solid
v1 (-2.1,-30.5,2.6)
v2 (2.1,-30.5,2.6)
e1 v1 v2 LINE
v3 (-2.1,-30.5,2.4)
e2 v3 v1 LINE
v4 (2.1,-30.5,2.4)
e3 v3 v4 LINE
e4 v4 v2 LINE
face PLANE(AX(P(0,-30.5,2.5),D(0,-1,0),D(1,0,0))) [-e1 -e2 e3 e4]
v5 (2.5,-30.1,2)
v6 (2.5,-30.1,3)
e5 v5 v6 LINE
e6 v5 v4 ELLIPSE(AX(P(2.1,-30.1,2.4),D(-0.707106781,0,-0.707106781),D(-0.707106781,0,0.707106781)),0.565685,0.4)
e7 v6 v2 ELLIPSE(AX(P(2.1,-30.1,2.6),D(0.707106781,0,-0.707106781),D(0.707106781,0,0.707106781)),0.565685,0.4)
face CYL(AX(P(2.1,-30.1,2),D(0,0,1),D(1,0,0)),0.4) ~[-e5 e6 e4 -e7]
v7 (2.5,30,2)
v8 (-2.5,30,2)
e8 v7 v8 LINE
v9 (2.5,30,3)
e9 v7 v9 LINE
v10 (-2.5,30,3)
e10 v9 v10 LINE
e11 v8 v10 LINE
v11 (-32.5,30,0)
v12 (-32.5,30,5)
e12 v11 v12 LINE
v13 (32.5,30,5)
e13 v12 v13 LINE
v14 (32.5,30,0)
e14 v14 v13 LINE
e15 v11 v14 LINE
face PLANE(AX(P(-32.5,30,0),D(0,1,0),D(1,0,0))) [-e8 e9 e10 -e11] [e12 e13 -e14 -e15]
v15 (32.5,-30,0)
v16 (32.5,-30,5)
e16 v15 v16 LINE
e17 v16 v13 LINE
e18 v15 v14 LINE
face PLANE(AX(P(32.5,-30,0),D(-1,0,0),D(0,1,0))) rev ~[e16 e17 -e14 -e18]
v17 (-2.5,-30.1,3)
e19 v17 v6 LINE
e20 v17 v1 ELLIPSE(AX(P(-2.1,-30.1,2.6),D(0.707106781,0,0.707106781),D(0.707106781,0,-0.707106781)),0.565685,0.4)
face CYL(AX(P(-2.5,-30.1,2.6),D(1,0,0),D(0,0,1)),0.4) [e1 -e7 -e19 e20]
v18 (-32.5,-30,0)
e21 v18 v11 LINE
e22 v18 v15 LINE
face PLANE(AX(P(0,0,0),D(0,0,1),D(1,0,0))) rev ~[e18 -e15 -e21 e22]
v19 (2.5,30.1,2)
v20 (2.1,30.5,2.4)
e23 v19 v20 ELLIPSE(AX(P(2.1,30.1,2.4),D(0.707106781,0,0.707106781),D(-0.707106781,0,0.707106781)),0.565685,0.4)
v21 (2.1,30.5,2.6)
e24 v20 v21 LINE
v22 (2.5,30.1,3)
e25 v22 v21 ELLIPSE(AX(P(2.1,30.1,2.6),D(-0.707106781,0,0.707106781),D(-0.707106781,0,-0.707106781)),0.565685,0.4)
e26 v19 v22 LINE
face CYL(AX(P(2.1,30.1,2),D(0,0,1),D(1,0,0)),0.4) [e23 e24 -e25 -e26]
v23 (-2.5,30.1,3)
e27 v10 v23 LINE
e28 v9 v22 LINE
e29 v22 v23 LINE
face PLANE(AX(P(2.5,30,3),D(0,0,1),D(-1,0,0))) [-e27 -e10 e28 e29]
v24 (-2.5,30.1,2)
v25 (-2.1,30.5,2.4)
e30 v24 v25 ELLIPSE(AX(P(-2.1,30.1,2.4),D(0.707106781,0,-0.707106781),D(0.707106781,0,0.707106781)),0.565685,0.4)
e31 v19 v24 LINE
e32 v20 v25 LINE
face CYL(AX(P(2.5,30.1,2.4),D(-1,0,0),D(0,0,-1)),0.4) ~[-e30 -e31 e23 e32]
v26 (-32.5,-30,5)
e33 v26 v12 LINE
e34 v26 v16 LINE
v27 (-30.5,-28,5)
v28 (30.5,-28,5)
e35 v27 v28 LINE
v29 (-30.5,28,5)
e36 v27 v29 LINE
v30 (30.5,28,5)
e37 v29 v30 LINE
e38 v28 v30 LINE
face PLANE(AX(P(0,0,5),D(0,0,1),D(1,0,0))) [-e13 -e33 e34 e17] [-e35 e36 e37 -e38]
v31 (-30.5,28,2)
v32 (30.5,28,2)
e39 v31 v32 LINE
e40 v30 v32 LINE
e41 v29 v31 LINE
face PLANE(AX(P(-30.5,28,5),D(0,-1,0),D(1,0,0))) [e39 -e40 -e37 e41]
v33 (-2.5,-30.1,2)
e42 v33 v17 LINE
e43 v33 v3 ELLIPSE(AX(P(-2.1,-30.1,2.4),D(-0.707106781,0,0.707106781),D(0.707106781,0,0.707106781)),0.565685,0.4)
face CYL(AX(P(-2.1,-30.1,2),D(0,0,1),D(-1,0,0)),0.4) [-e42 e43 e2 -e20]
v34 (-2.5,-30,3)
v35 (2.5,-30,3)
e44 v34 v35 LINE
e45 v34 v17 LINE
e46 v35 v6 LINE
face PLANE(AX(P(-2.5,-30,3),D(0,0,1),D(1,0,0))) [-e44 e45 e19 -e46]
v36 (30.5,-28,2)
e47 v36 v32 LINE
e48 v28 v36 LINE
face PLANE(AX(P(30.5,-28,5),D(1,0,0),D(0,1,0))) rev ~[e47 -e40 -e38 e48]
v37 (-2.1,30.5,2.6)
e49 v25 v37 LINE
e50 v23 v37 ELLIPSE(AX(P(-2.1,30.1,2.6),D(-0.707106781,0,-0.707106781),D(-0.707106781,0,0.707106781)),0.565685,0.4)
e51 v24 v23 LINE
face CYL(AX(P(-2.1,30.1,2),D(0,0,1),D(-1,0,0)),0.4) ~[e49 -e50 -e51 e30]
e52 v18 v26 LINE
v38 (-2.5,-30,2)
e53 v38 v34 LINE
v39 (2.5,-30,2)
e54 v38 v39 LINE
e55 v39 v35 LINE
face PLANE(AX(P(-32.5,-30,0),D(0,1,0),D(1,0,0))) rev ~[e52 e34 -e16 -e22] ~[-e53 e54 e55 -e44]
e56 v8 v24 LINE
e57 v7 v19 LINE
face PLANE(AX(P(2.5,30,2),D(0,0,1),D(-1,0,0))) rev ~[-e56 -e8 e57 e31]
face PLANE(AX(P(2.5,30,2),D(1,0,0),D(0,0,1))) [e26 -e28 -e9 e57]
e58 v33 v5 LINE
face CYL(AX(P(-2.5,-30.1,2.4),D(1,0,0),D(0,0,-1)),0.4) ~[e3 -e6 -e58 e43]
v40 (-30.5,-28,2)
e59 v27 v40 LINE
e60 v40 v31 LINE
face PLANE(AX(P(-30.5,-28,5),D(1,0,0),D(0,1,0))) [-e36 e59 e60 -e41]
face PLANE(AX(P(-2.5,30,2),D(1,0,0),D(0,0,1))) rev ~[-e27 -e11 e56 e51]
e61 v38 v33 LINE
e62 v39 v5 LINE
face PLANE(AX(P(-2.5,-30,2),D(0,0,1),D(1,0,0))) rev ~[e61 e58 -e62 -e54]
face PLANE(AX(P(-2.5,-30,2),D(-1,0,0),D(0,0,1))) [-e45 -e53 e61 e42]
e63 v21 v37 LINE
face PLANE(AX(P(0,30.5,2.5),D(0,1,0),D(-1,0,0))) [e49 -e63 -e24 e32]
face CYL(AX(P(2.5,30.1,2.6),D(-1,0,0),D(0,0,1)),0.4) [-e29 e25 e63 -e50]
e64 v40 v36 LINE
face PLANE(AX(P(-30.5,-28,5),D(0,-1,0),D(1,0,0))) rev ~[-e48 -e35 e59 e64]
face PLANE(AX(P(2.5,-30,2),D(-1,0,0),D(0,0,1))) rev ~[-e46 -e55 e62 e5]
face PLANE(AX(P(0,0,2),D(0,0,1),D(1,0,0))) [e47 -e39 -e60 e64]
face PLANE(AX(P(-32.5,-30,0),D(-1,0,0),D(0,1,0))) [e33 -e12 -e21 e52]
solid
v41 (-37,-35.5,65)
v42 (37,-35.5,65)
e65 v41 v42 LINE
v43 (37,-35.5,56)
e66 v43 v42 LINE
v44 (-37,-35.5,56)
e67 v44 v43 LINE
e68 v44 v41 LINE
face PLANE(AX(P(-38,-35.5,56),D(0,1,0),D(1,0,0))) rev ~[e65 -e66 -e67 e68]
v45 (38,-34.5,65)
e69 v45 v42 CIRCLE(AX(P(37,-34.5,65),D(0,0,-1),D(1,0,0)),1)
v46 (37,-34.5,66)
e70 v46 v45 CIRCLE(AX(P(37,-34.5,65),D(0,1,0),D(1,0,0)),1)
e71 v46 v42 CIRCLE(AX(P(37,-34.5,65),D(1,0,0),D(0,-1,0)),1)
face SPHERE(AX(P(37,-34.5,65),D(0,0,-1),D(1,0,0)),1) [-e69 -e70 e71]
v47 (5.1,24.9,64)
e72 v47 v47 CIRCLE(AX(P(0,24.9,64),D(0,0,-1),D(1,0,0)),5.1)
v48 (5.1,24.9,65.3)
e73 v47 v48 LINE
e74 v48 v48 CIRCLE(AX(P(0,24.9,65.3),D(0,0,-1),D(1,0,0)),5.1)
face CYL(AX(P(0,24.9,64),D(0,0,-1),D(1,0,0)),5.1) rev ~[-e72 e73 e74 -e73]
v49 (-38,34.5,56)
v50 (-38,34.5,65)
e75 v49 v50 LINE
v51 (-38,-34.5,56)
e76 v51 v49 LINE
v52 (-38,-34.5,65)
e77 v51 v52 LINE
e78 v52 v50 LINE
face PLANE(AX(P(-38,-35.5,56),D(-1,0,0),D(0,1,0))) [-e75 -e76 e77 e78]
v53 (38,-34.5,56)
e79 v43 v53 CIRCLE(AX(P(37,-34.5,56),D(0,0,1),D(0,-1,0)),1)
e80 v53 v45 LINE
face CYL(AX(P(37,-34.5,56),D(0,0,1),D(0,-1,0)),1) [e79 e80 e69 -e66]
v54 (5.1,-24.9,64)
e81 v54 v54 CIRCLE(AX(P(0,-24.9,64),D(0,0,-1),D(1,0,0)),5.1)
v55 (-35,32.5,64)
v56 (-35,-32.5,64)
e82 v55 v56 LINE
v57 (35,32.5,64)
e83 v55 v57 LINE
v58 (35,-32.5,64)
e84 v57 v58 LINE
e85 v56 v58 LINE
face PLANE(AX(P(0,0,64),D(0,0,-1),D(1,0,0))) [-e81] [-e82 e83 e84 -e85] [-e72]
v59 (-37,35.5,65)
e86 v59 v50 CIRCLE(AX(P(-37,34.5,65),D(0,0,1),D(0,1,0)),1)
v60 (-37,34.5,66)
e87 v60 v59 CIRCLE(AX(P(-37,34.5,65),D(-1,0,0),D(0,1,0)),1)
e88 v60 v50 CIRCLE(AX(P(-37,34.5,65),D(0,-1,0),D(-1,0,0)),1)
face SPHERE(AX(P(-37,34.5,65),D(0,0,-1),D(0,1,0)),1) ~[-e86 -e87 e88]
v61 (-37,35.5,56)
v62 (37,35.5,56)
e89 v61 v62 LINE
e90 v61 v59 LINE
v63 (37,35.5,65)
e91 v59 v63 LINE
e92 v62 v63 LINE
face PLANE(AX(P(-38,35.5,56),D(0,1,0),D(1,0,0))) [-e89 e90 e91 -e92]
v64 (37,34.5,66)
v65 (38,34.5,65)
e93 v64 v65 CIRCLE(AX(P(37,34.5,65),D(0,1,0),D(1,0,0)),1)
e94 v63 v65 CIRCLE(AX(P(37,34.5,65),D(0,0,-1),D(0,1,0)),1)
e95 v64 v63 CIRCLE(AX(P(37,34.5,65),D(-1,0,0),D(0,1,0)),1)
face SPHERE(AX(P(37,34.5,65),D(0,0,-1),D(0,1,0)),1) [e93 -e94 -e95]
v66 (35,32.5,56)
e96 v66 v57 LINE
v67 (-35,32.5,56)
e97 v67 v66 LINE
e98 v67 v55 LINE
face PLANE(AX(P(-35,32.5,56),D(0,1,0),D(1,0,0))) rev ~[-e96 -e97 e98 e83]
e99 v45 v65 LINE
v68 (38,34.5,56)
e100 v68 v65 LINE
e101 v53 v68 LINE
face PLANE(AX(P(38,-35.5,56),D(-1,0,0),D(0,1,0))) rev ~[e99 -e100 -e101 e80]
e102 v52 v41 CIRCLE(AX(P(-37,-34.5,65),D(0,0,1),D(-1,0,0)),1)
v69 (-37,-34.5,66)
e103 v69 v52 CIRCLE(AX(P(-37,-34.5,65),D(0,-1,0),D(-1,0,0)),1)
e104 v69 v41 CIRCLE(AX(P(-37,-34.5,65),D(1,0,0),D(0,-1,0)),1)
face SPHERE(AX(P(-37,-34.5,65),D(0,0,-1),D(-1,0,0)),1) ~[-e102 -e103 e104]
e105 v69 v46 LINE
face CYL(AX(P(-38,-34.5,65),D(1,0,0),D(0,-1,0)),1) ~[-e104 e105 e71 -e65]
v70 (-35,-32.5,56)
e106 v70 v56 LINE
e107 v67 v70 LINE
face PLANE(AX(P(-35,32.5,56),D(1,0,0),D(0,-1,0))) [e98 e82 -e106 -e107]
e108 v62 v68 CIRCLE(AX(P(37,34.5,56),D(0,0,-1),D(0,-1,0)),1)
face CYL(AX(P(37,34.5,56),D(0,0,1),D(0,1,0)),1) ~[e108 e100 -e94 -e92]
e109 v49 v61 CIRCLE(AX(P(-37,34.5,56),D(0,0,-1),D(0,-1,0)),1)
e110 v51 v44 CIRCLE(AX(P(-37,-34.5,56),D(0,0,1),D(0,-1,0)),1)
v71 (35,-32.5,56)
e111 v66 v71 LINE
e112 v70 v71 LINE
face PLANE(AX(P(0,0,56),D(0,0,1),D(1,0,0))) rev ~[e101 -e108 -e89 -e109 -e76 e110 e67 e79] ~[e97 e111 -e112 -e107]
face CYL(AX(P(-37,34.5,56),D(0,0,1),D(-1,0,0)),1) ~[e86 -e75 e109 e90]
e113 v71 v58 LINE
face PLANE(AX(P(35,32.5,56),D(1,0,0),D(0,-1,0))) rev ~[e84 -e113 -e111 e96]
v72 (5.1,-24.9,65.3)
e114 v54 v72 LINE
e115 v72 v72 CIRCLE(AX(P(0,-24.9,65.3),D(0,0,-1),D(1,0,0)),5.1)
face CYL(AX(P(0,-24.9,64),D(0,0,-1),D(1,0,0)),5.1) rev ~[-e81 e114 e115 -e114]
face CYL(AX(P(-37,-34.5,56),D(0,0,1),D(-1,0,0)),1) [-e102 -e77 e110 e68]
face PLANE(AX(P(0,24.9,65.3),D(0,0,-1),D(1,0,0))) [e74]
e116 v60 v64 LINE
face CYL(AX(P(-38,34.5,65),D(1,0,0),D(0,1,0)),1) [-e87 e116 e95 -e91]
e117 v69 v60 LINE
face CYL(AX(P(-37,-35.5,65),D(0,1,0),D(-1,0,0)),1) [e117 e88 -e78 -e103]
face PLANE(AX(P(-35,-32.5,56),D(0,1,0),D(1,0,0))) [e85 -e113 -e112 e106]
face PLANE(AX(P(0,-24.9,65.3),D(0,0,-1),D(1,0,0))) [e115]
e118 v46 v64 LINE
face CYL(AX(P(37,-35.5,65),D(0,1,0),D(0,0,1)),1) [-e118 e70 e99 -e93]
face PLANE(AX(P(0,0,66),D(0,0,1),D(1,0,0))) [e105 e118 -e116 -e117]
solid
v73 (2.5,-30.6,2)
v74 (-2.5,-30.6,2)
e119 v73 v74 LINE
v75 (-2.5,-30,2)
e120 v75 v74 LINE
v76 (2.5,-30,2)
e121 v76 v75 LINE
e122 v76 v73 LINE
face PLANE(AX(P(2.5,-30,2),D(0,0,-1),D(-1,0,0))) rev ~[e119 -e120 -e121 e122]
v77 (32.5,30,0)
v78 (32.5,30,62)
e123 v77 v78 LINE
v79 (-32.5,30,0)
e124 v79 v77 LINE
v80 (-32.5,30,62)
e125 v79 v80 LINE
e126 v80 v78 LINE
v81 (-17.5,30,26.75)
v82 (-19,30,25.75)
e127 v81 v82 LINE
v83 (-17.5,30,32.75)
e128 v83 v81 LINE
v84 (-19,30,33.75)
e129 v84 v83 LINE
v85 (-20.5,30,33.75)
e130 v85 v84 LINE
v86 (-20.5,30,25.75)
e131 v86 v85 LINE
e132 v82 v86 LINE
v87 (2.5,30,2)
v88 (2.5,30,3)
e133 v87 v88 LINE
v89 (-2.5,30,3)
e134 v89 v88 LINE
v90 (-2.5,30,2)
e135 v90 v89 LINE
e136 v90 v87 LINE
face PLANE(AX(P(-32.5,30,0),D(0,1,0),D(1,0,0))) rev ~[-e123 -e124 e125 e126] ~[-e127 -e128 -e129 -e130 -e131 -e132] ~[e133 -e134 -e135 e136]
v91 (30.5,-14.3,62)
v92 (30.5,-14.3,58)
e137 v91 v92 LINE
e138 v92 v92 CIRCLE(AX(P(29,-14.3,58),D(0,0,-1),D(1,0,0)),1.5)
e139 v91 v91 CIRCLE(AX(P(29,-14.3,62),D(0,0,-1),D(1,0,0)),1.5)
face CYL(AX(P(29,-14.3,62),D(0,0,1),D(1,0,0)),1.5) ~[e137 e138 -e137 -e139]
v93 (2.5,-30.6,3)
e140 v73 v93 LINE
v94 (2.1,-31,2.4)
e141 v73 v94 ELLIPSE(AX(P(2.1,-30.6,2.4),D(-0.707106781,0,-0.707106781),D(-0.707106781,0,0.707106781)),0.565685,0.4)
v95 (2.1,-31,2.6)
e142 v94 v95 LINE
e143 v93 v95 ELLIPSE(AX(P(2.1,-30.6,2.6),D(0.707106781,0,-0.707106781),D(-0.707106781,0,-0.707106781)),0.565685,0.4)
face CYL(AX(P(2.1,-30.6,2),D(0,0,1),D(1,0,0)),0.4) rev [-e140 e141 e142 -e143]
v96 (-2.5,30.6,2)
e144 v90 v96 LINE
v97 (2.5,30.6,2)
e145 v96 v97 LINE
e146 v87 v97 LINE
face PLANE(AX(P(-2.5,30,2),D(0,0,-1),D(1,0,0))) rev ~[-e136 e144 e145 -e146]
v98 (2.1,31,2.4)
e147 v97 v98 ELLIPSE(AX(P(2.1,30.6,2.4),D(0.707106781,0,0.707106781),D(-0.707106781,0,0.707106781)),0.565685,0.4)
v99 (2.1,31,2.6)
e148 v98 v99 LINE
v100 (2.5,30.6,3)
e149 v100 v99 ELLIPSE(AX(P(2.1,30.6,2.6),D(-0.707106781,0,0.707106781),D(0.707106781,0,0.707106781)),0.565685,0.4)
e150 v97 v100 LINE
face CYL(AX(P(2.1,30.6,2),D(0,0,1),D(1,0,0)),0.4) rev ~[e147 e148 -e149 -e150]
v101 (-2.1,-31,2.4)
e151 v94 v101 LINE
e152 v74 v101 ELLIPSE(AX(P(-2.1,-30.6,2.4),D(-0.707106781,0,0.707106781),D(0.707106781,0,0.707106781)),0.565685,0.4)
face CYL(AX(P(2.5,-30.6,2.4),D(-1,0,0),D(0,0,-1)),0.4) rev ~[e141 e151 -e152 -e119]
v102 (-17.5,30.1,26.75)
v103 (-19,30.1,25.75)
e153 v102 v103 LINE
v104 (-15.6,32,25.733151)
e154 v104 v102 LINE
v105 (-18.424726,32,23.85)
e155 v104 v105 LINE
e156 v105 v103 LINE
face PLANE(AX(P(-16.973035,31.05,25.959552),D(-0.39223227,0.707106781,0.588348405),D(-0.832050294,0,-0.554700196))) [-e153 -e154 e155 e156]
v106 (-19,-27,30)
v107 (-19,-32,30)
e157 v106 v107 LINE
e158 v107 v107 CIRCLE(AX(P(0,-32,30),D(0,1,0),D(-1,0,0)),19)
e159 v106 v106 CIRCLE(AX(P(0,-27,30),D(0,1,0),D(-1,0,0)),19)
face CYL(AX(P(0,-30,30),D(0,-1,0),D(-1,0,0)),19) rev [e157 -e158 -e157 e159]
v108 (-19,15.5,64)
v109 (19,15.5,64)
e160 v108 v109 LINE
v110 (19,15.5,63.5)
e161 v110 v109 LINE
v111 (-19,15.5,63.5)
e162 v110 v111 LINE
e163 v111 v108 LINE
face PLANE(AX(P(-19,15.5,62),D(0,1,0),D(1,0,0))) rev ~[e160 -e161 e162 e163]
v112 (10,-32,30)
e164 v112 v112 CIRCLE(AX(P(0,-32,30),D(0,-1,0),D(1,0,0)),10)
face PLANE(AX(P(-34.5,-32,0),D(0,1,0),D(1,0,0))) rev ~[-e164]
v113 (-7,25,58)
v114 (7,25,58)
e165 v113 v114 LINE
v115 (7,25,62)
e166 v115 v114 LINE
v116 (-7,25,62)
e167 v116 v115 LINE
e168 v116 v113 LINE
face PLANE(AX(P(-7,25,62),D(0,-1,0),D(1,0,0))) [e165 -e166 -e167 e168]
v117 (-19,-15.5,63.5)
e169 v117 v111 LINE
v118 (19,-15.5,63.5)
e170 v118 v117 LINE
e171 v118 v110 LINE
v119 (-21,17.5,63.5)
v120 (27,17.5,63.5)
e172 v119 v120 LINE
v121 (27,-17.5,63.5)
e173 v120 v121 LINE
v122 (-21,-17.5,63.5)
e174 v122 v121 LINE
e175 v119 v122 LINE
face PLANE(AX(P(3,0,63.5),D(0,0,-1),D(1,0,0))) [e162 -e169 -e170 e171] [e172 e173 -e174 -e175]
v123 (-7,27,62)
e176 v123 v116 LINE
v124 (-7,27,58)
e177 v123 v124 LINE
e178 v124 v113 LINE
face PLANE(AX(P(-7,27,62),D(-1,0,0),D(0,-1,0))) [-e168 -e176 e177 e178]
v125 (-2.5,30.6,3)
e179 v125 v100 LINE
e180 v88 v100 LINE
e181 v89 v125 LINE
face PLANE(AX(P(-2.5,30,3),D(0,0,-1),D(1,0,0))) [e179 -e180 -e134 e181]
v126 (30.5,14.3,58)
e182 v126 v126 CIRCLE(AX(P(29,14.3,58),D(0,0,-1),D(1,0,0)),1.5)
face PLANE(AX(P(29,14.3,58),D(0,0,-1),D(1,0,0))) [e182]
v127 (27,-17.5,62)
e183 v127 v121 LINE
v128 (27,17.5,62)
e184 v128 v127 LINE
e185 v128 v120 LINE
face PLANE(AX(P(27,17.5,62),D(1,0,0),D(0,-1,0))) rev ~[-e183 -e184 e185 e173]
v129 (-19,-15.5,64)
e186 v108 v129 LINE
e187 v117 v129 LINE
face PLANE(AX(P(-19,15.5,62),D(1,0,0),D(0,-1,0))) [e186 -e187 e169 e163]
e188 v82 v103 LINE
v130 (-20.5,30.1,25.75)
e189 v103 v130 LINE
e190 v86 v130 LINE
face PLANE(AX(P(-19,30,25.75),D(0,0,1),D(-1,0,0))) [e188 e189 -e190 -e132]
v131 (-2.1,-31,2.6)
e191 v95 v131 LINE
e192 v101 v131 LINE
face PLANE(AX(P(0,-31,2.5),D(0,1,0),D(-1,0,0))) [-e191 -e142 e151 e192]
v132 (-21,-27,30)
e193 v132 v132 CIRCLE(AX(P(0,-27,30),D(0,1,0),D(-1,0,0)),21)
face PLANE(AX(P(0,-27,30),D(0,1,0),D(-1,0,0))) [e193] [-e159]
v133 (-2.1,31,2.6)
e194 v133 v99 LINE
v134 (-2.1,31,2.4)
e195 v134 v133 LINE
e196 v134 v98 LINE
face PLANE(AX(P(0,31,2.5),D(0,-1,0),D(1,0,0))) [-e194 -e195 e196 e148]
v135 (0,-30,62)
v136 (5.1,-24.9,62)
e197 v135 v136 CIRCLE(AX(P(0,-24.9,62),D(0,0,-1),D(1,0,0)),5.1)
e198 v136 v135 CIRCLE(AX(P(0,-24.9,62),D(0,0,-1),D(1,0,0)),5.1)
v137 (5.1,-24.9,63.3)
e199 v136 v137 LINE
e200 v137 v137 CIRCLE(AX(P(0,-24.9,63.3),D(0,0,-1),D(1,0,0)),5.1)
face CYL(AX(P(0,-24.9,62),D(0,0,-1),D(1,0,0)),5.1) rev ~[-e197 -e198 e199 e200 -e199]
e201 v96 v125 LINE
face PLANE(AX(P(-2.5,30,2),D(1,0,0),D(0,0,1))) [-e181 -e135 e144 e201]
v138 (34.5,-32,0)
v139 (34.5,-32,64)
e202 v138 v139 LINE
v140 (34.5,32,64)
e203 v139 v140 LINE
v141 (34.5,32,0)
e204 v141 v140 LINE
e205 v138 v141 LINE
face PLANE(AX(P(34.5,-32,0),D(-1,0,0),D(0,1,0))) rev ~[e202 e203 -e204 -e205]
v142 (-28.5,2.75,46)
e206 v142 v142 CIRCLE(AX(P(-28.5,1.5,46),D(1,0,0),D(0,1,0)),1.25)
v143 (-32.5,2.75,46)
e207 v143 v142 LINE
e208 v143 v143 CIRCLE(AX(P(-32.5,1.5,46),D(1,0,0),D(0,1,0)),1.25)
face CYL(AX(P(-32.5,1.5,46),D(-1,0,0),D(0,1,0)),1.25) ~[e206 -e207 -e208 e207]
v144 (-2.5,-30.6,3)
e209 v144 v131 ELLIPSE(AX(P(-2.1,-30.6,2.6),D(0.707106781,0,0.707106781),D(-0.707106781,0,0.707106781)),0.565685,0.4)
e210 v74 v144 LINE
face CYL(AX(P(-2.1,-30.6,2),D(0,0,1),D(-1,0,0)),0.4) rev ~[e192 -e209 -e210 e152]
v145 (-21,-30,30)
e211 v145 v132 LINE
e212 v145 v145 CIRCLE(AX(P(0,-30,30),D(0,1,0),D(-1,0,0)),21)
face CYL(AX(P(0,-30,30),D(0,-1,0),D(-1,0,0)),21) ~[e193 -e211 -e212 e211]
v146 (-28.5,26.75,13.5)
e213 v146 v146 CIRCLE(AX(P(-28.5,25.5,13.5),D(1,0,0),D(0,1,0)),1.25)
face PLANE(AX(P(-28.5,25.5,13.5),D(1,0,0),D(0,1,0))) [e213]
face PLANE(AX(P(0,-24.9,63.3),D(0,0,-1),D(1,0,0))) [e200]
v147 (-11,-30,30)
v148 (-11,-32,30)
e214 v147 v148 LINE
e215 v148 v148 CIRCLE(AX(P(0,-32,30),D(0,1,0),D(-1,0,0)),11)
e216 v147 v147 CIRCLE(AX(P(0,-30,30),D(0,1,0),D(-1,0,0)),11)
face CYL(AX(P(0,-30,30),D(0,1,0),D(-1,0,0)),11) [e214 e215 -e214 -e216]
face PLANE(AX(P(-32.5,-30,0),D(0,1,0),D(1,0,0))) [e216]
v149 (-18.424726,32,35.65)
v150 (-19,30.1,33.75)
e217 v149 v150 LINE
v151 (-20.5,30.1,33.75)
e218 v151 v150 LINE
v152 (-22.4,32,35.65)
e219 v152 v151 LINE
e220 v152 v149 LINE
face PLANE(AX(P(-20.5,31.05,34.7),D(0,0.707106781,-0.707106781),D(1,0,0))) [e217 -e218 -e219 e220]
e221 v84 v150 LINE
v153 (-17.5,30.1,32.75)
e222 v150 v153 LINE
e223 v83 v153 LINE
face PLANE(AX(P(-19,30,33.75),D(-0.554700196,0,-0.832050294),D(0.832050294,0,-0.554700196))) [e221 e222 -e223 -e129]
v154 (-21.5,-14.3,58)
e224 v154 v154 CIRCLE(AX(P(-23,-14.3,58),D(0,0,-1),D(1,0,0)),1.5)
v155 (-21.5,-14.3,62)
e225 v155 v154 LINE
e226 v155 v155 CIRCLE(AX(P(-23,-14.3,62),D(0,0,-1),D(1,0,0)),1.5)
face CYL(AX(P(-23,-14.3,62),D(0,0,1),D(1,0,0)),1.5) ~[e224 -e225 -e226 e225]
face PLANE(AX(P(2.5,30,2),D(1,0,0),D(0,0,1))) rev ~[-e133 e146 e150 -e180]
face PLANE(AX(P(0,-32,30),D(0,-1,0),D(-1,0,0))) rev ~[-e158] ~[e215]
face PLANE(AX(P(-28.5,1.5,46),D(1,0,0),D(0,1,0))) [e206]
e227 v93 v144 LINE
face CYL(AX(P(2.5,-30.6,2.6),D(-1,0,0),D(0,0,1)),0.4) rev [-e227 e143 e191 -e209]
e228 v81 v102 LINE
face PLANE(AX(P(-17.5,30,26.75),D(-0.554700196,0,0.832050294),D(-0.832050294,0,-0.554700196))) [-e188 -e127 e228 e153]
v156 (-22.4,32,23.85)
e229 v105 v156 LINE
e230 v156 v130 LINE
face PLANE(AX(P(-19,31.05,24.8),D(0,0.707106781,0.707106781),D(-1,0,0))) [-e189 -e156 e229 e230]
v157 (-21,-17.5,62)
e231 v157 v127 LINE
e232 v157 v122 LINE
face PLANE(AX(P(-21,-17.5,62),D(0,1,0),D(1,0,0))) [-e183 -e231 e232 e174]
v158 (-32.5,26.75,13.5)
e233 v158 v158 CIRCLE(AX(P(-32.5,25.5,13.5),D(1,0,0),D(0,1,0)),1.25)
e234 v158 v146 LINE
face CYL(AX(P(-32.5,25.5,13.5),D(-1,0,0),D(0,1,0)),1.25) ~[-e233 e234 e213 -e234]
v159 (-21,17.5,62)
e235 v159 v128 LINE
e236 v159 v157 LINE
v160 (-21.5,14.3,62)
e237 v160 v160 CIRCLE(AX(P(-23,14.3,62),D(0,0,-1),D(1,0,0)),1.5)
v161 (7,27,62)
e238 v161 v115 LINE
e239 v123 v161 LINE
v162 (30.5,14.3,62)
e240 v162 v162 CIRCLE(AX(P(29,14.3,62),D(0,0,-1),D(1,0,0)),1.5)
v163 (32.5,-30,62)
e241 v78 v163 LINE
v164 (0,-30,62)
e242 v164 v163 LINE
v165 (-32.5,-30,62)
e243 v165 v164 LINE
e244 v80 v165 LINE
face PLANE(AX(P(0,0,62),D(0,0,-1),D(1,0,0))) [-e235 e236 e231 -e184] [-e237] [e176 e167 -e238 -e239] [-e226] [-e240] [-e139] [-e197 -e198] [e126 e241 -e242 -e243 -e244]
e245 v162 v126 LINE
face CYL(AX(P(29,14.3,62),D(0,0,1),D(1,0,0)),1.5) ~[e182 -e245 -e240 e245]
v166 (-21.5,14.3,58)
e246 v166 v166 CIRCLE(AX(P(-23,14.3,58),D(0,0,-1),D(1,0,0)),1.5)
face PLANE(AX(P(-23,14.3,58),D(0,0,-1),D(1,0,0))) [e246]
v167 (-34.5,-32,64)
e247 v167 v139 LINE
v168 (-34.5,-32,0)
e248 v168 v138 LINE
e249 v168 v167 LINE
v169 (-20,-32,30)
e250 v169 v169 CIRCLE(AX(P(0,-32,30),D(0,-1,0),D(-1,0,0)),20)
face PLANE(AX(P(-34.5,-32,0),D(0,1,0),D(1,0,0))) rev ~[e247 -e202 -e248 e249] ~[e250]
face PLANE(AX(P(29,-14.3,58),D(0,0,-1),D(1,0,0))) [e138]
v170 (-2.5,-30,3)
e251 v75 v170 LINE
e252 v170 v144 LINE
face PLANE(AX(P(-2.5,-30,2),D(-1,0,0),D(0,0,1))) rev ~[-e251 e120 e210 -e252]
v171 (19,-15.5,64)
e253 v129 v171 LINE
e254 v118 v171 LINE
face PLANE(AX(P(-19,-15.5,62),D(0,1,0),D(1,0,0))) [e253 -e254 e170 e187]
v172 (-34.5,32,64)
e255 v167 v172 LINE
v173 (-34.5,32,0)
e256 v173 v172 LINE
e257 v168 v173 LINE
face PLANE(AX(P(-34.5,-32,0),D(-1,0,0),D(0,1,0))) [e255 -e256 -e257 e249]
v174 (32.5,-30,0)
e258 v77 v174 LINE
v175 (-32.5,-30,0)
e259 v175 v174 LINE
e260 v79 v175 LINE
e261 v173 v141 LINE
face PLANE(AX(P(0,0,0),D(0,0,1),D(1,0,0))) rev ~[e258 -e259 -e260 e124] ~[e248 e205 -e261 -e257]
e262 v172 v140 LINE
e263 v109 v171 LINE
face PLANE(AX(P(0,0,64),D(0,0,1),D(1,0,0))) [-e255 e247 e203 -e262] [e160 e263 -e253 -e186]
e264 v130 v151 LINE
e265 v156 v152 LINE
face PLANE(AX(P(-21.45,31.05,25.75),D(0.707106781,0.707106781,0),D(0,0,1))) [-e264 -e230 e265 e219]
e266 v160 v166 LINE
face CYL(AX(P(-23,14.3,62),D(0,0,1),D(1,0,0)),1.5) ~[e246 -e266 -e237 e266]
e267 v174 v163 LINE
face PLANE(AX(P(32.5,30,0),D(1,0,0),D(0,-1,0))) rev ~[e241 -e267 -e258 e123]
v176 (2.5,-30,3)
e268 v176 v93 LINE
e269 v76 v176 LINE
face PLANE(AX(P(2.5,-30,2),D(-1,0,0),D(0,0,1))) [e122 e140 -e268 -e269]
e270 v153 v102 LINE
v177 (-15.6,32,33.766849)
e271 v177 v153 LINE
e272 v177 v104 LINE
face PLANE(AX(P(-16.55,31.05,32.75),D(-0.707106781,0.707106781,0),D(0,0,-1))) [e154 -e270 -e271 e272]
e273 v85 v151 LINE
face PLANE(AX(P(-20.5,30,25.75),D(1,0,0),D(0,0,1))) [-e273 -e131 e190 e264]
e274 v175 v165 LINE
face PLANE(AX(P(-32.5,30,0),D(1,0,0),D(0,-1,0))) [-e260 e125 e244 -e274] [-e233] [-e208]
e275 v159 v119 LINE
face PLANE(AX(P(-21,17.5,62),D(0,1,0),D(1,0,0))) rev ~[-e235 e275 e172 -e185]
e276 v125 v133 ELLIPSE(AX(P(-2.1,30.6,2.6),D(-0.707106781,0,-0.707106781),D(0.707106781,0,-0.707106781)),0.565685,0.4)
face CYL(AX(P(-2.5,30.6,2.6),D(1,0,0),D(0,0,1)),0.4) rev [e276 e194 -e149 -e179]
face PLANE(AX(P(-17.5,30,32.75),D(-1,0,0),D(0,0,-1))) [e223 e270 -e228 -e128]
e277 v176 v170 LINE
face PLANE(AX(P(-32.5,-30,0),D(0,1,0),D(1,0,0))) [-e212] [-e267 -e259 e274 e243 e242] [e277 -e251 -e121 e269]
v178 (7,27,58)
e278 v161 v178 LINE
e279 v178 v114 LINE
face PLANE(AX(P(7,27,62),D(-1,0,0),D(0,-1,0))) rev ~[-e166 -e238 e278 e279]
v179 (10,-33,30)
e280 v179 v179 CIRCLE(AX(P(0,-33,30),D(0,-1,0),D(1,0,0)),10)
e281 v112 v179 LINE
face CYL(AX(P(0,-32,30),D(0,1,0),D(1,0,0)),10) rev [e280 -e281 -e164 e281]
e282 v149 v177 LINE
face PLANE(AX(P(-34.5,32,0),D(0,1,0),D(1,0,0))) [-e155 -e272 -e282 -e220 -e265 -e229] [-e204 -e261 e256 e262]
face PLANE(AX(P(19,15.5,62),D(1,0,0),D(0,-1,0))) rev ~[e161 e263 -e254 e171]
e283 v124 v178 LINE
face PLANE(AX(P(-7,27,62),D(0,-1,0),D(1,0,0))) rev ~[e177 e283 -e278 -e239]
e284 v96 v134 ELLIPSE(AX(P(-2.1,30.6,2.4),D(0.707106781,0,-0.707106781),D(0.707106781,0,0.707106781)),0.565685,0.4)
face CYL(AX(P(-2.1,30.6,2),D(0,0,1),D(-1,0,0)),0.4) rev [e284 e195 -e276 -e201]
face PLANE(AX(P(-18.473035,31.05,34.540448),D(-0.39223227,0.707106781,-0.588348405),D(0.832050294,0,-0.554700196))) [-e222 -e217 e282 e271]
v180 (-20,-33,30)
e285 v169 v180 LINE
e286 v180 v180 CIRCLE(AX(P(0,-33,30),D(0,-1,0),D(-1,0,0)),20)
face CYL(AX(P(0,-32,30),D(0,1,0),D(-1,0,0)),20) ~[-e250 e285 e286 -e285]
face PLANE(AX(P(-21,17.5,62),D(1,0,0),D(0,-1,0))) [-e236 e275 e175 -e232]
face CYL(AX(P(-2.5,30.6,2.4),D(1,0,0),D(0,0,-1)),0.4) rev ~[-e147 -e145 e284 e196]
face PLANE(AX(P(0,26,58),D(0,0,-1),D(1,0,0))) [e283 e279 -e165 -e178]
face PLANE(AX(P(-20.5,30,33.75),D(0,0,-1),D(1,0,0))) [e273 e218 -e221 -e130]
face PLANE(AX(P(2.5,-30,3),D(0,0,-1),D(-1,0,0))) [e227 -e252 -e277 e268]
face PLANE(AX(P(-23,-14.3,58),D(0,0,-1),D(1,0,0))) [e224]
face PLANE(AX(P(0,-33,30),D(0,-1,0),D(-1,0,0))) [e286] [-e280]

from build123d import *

# Parameters (mm, degrees)
SKETCH005020_R   = 5.1
EXTRUDE017_DEPTH = 1.3
SKETCH005019_W   = 70
SKETCH005019_H   = 65
EXTRUDE016_DEPTH = 8
SKETCH005018_W   = 76
SKETCH005018_H   = 71
EXTRUDE015_DEPTH = 10
FILLET_R         = 1
SKETCH005022_W   = 61
SKETCH005022_H   = 56
EXTRUDE020_DEPTH = 3
SKETCH005021_W   = 65
SKETCH005021_H   = 60
EXTRUDE019_DEPTH = 5
SKETCH005023_W   = 5
SKETCH005023_H   = 1
EXTRUDE021_DEPTH = 0.5
SKETCH005024_W   = 5
SKETCH005024_H   = 1
EXTRUDE022_DEPTH = 0.5
FILLET002_R      = 0.4
SKETCH005025_W   = 5
SKETCH005025_H   = 1
EXTRUDE023_DEPTH = 1
SKETCH005026_W   = 5
SKETCH005026_H   = 1
EXTRUDE024_DEPTH = 1
FILLET003_R      = 0.4
SKETCH005013_W   = 14
SKETCH005013_H   = 2
EXTRUDE014_DEPTH = 4
SKETCH005017_R   = 5.1
EXTRUDE018_DEPTH = 1.3
SKETCH005027_R   = 10
EXTRUDE025_DEPTH = 1
SKETCH005002_R   = 20
EXTRUDE005_DEPTH = 1
EXTRUDE013_DEPTH = 2
SKETCH005028_R   = 11
EXTRUDE026_DEPTH = 2
SKETCH005004_R   = 19
EXTRUDE006_DEPTH = 2
SKETCH003_W      = 48
SKETCH003_H      = 35
EXTRUDE003_DEPTH = 1.5
SKETCH002_W      = 38
SKETCH002_H      = 31
EXTRUDE002_DEPTH = 2
SKETCH001_W      = 65
SKETCH001_H      = 60
EXTRUDE001_DEPTH = 62
SKETCH_W         = 69
SKETCH_H         = 64
EXTRUDE_DEPTH    = 64
CHAMFER_SIZE     = 1.9
SKETCH005011_R   = 1.25
EXTRUDE012_DEPTH = 4
SKETCH004_R      = 1.5
EXTRUDE004_DEPTH = 4
SKETCH005029_R   = 19
EXTRUDE028_DEPTH = 3
SKETCH005030_R   = 21
EXTRUDE027_DEPTH = 3


with BuildPart() as lid_magnet_slot_extrusion:
    # Sketch005020 (on Face1 of ShapeBinder013) → Extrude017 (new body)
    with BuildSketch(Plane(origin=(0, 0, 64), x_dir=(1, 0, 0), z_dir=(0, 0, -1))):
        with Locations((0, 24.9)):
            Circle(SKETCH005020_R)
        with Locations((0, -24.9)):
            Circle(SKETCH005020_R)
    extrude(amount=-EXTRUDE017_DEPTH)


with BuildPart() as lid_interior_extrude:
    # Sketch005019 (on Face1 of CopyExtrude015) → Extrude016 (new body)
    with BuildSketch(Plane(origin=(0, 0, 0), x_dir=(1, 0, 0), z_dir=(0, 0, -1))):
        Rectangle(SKETCH005019_W, SKETCH005019_H)
    extrude(amount=-EXTRUDE016_DEPTH)


with BuildPart() as lid_magnet_slot_cut:
    # Sketch005018 → Extrude015 (new body)
    with BuildSketch(Plane.XY):
        Rectangle(SKETCH005018_W, SKETCH005018_H)
    extrude(amount=EXTRUDE015_DEPTH)

    # Cut008: cut Lid Interior Extrude
    add(lid_interior_extrude.part, mode=Mode.SUBTRACT)


with BuildPart() as lid_magnet_slot_cut_1:
    # Cut008 placement: moved
    add(lid_magnet_slot_cut.part.moved(Location((0, 0, 56))))

    # Fillet
    fillet_edges = [lid_magnet_slot_cut_1.edges().sort_by_distance(p)[0] for p in [
        (-38, 35.5, 61),
        (38, 35.5, 61),
        (0, 35.5, 66),
        (-38, -35.5, 61),
        (-38, 0, 66),
        (38, -35.5, 61),
        (38, 0, 66),
        (0, -35.5, 66),
    ]]
    fillet(fillet_edges, radius=FILLET_R)

    # Cut009: cut Lid Magnet Slot Extrusion
    add(lid_magnet_slot_extrusion.part, mode=Mode.SUBTRACT)


with BuildPart() as bottom_base_interior_extrusion:
    # Sketch005022 (on Face1 of ShapeBinder014) → Extrude020 (new body)
    with BuildSketch(Plane.XY.offset(5)):
        Rectangle(SKETCH005022_W, SKETCH005022_H)
    extrude(amount=-EXTRUDE020_DEPTH)


with BuildPart() as bottom_base_interior_cut:
    # Sketch005021 → Extrude019 (new body)
    with BuildSketch(Plane.XY):
        Rectangle(SKETCH005021_W, SKETCH005021_H)
    extrude(amount=EXTRUDE019_DEPTH)

    # Cut011: cut Bottom Base Interior Extrusion
    add(bottom_base_interior_extrusion.part, mode=Mode.SUBTRACT)


with BuildPart() as bottom_tab_front_extrusion:
    # Sketch005023 (on Face1 of ShapeBinder015) → Extrude021 (new body)
    with BuildSketch(Plane.XZ.offset(30)):
        with Locations((0, 2.5)):
            Rectangle(SKETCH005023_W, SKETCH005023_H)
    extrude(amount=EXTRUDE021_DEPTH)


with BuildPart() as bottom_base_fusion:
    # Sketch005024 (on Face1 of ShapeBinder016) → Extrude022 (new body)
    with BuildSketch(Plane(origin=(0, 30, 0), x_dir=(-1, 0, 0), z_dir=(0, 1, 0))):
        with Locations((0, 2.5)):
            Rectangle(SKETCH005024_W, SKETCH005024_H)
    extrude(amount=EXTRUDE022_DEPTH)

    # Fusion006: union Bottom Tab Front Extrusion
    add(bottom_tab_front_extrusion.part)

    # Fillet002
    fillet002_edges = [bottom_base_fusion.edges().sort_by_distance(p)[0] for p in [
        (0, 30.5, 3),
        (-2.5, 30.5, 2.5),
        (0, 30.5, 2),
        (2.5, 30.5, 2.5),
        (0, -30.5, 3),
        (2.5, -30.5, 2.5),
        (0, -30.5, 2),
        (-2.5, -30.5, 2.5),
    ]]
    fillet(fillet002_edges, radius=FILLET002_R)

    # Fusion007: union Bottom Base Interior Cut
    add(bottom_base_interior_cut.part)


with BuildPart() as body_bottom_tab_rear_extrusion:
    # Sketch005025 (on Face1 of ShapeBinder009) → Extrude023 (new body)
    with BuildSketch(Plane.XZ.offset(-30)):
        with Locations((0, 2.5)):
            Rectangle(SKETCH005025_W, SKETCH005025_H)
    extrude(amount=-EXTRUDE023_DEPTH)


with BuildPart() as body_bottom_tab_fillet:
    # Sketch005026 (on ShapeBinder) → Extrude024 (new body)
    with BuildSketch(Plane(origin=(0, -30, 0), x_dir=(-1, 0, 0), z_dir=(0, 1, 0))):
        with Locations((0, 2.5)):
            Rectangle(SKETCH005026_W, SKETCH005026_H)
    extrude(amount=-EXTRUDE024_DEPTH)

    # Fusion008: union Body Bottom Tab Rear Extrusion
    add(body_bottom_tab_rear_extrusion.part)

    # Fillet003
    fillet003_edges = [body_bottom_tab_fillet.edges().sort_by_distance(p)[0] for p in [
        (0, -31, 3),
        (-2.5, -31, 2.5),
        (0, -31, 2),
        (2.5, -31, 2.5),
        (0, 31, 3),
        (2.5, 31, 2.5),
        (0, 31, 2),
        (-2.5, 31, 2.5),
    ]]
    fillet(fillet003_edges, radius=FILLET003_R)


with BuildPart() as reed_mount_extrusion:
    # Sketch005013 (on Face1 of ShapeBinder008) → Extrude014 (new body)
    with BuildSketch(Plane(origin=(0, 0, 62), x_dir=(1, 0, 0), z_dir=(0, 0, -1))):
        with Locations((0, -26)):
            Rectangle(SKETCH005013_W, SKETCH005013_H)
    extrude(amount=EXTRUDE014_DEPTH)


with BuildPart() as body_magnet_slot_extrude:
    # Sketch005017 (on Face1 of ShapeBinder008) → Extrude018 (new body)
    with BuildSketch(Plane(origin=(0, 0, 62), x_dir=(1, 0, 0), z_dir=(0, 0, -1))):
        with Locations((0, 24.9)):
            Circle(SKETCH005017_R)
    extrude(amount=-EXTRUDE018_DEPTH)


with BuildPart() as symbol_exterior_inner_extrude:
    # Sketch005027 (on Face1 of CopyCut002) → Extrude025 (new body)
    with BuildSketch(Plane.XZ.offset(32)):
        with Locations((0, 30)):
            Circle(SKETCH005027_R)
    extrude(amount=EXTRUDE025_DEPTH)


with BuildPart() as symbol_exterior_ring_cut:
    # Sketch005002 (on Face1 of Cut002) → Extrude005 (new body)
    with BuildSketch(Plane(origin=(0, -32, 0), x_dir=(-1, 0, 0), z_dir=(0, -1, 0))):
        with Locations((0, -30)):
            Circle(SKETCH005002_R)
    extrude(amount=EXTRUDE005_DEPTH)

    # Cut012: cut Symbol Exterior Inner Extrude
    add(symbol_exterior_inner_extrude.part, mode=Mode.SUBTRACT)


with BuildPart() as micro_usb_cutout_extrusion:
    # Sketch005012 (on Face1 of ShapeBinder009) → Extrude013 (new body)
    with BuildSketch(Plane.XZ.offset(-30)):
        Polygon((-17.5, 32.75), (-17.5, 26.75), (-19, 25.75), (-20.5, 25.75), (-20.5, 33.75), (-19, 33.75), align=None)
    extrude(amount=-EXTRUDE013_DEPTH)


with BuildPart() as symbol_interior_inner_extrude:
    # Sketch005028 (on Face1 of ShapeBinder) → Extrude026 (new body)
    with BuildSketch(Plane(origin=(0, -30, 0), x_dir=(-1, 0, 0), z_dir=(0, 1, 0))):
        with Locations((0, 30)):
            Circle(SKETCH005028_R)
    extrude(amount=-EXTRUDE026_DEPTH)


with BuildPart() as symbol_interior_ring_cut:
    # Sketch005004 (on Face1 of ShapeBinder) → Extrude006 (new body)
    with BuildSketch(Plane(origin=(0, -30, 0), x_dir=(-1, 0, 0), z_dir=(0, 1, 0))):
        with Locations((0, 30)):
            Circle(SKETCH005004_R)
    extrude(amount=-EXTRUDE006_DEPTH)

    # Cut013: cut Symbol Interior Inner Extrude
    add(symbol_interior_inner_extrude.part, mode=Mode.SUBTRACT)


with BuildPart() as lcd_cutout_extrude:
    # Sketch003 (on Face1 of ShapeBinder008) → Extrude003 (new body)
    with BuildSketch(Plane(origin=(0, 0, 62), x_dir=(1, 0, 0), z_dir=(0, 0, -1))):
        with Locations((3, 0)):
            Rectangle(SKETCH003_W, SKETCH003_H)
    extrude(amount=-EXTRUDE003_DEPTH)


with BuildPart() as lcd_window_extrude:
    # Sketch002 (on Face1 of ShapeBinder008) → Extrude002 (new body)
    with BuildSketch(Plane(origin=(0, 0, 62), x_dir=(1, 0, 0), z_dir=(0, 0, -1))):
        Rectangle(SKETCH002_W, SKETCH002_H)
    extrude(amount=-EXTRUDE002_DEPTH)


with BuildPart() as box_interior_extrude:
    # Sketch001 (on Face5 of Extrude) → Extrude001 (new body)
    with BuildSketch(Plane(origin=(0, 0, 0), x_dir=(1, 0, 0), z_dir=(0, 0, -1))):
        Rectangle(SKETCH001_W, SKETCH001_H)
    extrude(amount=-EXTRUDE001_DEPTH)


with BuildPart() as micro_usb_port_flare:
    # Sketch → Extrude (new body)
    with BuildSketch(Plane.XY):
        Rectangle(SKETCH_W, SKETCH_H)
    extrude(amount=EXTRUDE_DEPTH)

    # Cut: cut Box Interior Extrude
    add(box_interior_extrude.part, mode=Mode.SUBTRACT)

    # Cut001: cut LCD Window Extrude
    add(lcd_window_extrude.part, mode=Mode.SUBTRACT)

    # Cut002: cut LCD Cutout Extrude
    add(lcd_cutout_extrude.part, mode=Mode.SUBTRACT)

    # Cut003: cut Symbol Interior Ring Cut
    add(symbol_interior_ring_cut.part, mode=Mode.SUBTRACT)

    # Cut007: cut Micro-USB Cutout Extrusion
    add(micro_usb_cutout_extrusion.part, mode=Mode.SUBTRACT)

    # Chamfer
    chamfer_edges = [micro_usb_port_flare.edges().sort_by_distance(p)[0] for p in [
        (-18.25, 32, 33.25),
        (-19.75, 32, 33.75),
        (-20.5, 32, 29.75),
        (-19.75, 32, 25.75),
        (-18.25, 32, 26.25),
        (-17.5, 32, 29.75),
    ]]
    chamfer(chamfer_edges, length=CHAMFER_SIZE)


with BuildPart() as reed_mount_fusion:
    # Sketch005011 (on Face1 of ShapeBinder010) → Extrude012 (new body)
    with BuildSketch(Plane.YZ.offset(-32.5)):
        with Locations((25.5, 13.5)):
            Circle(SKETCH005011_R)
        with Locations((1.5, 46)):
            Circle(SKETCH005011_R)
    extrude(amount=EXTRUDE012_DEPTH)

    # Fusion001: union Micro-USB Port Flare
    add(micro_usb_port_flare.part)

    # Fusion002: union Symbol Exterior Ring Cut
    add(symbol_exterior_ring_cut.part)

    # Cut010: cut Body Magnet Slot Extrude
    add(body_magnet_slot_extrude.part, mode=Mode.SUBTRACT)

    # Fusion003: union Reed Mount Extrusion
    add(reed_mount_extrusion.part)


with BuildPart() as body_bottom_tab_cut:
    # Sketch004 (on Face1 of ShapeBinder008) → Extrude004 (new body)
    with BuildSketch(Plane(origin=(0, 0, 62), x_dir=(1, 0, 0), z_dir=(0, 0, -1))):
        with Locations((29, 14.3)):
            Circle(SKETCH004_R)
        with Locations((-23, 14.3)):
            Circle(SKETCH004_R)
        with Locations((-23, -14.3)):
            Circle(SKETCH004_R)
        with Locations((29, -14.3)):
            Circle(SKETCH004_R)
    extrude(amount=EXTRUDE004_DEPTH)

    # Fusion004: union Reed Mount Fusion
    add(reed_mount_fusion.part)

    # Cut014: cut Body Bottom Tab Fillet
    add(body_bottom_tab_fillet.part, mode=Mode.SUBTRACT)


with BuildPart() as extrude028:
    # Sketch005029 (on ShapeBinder) → Extrude028 (new body)
    with BuildSketch(Plane(origin=(0, -30, 0), x_dir=(-1, 0, 0), z_dir=(0, 1, 0))):
        with Locations((0, 30)):
            Circle(SKETCH005029_R)
    extrude(amount=EXTRUDE028_DEPTH)


with BuildPart() as symbol_guard_fusion:
    # Sketch005030 (on ShapeBinder) → Extrude027 (new body)
    with BuildSketch(Plane(origin=(0, -30, 0), x_dir=(-1, 0, 0), z_dir=(0, 1, 0))):
        with Locations((0, 30)):
            Circle(SKETCH005030_R)
    extrude(amount=EXTRUDE027_DEPTH)

    # Cut015: cut Extrude028
    add(extrude028.part, mode=Mode.SUBTRACT)

    # Fusion: union Body Bottom Tab Cut
    add(body_bottom_tab_cut.part)


solid = Compound([lid_magnet_slot_cut_1.part, bottom_base_fusion.part, symbol_guard_fusion.part])
